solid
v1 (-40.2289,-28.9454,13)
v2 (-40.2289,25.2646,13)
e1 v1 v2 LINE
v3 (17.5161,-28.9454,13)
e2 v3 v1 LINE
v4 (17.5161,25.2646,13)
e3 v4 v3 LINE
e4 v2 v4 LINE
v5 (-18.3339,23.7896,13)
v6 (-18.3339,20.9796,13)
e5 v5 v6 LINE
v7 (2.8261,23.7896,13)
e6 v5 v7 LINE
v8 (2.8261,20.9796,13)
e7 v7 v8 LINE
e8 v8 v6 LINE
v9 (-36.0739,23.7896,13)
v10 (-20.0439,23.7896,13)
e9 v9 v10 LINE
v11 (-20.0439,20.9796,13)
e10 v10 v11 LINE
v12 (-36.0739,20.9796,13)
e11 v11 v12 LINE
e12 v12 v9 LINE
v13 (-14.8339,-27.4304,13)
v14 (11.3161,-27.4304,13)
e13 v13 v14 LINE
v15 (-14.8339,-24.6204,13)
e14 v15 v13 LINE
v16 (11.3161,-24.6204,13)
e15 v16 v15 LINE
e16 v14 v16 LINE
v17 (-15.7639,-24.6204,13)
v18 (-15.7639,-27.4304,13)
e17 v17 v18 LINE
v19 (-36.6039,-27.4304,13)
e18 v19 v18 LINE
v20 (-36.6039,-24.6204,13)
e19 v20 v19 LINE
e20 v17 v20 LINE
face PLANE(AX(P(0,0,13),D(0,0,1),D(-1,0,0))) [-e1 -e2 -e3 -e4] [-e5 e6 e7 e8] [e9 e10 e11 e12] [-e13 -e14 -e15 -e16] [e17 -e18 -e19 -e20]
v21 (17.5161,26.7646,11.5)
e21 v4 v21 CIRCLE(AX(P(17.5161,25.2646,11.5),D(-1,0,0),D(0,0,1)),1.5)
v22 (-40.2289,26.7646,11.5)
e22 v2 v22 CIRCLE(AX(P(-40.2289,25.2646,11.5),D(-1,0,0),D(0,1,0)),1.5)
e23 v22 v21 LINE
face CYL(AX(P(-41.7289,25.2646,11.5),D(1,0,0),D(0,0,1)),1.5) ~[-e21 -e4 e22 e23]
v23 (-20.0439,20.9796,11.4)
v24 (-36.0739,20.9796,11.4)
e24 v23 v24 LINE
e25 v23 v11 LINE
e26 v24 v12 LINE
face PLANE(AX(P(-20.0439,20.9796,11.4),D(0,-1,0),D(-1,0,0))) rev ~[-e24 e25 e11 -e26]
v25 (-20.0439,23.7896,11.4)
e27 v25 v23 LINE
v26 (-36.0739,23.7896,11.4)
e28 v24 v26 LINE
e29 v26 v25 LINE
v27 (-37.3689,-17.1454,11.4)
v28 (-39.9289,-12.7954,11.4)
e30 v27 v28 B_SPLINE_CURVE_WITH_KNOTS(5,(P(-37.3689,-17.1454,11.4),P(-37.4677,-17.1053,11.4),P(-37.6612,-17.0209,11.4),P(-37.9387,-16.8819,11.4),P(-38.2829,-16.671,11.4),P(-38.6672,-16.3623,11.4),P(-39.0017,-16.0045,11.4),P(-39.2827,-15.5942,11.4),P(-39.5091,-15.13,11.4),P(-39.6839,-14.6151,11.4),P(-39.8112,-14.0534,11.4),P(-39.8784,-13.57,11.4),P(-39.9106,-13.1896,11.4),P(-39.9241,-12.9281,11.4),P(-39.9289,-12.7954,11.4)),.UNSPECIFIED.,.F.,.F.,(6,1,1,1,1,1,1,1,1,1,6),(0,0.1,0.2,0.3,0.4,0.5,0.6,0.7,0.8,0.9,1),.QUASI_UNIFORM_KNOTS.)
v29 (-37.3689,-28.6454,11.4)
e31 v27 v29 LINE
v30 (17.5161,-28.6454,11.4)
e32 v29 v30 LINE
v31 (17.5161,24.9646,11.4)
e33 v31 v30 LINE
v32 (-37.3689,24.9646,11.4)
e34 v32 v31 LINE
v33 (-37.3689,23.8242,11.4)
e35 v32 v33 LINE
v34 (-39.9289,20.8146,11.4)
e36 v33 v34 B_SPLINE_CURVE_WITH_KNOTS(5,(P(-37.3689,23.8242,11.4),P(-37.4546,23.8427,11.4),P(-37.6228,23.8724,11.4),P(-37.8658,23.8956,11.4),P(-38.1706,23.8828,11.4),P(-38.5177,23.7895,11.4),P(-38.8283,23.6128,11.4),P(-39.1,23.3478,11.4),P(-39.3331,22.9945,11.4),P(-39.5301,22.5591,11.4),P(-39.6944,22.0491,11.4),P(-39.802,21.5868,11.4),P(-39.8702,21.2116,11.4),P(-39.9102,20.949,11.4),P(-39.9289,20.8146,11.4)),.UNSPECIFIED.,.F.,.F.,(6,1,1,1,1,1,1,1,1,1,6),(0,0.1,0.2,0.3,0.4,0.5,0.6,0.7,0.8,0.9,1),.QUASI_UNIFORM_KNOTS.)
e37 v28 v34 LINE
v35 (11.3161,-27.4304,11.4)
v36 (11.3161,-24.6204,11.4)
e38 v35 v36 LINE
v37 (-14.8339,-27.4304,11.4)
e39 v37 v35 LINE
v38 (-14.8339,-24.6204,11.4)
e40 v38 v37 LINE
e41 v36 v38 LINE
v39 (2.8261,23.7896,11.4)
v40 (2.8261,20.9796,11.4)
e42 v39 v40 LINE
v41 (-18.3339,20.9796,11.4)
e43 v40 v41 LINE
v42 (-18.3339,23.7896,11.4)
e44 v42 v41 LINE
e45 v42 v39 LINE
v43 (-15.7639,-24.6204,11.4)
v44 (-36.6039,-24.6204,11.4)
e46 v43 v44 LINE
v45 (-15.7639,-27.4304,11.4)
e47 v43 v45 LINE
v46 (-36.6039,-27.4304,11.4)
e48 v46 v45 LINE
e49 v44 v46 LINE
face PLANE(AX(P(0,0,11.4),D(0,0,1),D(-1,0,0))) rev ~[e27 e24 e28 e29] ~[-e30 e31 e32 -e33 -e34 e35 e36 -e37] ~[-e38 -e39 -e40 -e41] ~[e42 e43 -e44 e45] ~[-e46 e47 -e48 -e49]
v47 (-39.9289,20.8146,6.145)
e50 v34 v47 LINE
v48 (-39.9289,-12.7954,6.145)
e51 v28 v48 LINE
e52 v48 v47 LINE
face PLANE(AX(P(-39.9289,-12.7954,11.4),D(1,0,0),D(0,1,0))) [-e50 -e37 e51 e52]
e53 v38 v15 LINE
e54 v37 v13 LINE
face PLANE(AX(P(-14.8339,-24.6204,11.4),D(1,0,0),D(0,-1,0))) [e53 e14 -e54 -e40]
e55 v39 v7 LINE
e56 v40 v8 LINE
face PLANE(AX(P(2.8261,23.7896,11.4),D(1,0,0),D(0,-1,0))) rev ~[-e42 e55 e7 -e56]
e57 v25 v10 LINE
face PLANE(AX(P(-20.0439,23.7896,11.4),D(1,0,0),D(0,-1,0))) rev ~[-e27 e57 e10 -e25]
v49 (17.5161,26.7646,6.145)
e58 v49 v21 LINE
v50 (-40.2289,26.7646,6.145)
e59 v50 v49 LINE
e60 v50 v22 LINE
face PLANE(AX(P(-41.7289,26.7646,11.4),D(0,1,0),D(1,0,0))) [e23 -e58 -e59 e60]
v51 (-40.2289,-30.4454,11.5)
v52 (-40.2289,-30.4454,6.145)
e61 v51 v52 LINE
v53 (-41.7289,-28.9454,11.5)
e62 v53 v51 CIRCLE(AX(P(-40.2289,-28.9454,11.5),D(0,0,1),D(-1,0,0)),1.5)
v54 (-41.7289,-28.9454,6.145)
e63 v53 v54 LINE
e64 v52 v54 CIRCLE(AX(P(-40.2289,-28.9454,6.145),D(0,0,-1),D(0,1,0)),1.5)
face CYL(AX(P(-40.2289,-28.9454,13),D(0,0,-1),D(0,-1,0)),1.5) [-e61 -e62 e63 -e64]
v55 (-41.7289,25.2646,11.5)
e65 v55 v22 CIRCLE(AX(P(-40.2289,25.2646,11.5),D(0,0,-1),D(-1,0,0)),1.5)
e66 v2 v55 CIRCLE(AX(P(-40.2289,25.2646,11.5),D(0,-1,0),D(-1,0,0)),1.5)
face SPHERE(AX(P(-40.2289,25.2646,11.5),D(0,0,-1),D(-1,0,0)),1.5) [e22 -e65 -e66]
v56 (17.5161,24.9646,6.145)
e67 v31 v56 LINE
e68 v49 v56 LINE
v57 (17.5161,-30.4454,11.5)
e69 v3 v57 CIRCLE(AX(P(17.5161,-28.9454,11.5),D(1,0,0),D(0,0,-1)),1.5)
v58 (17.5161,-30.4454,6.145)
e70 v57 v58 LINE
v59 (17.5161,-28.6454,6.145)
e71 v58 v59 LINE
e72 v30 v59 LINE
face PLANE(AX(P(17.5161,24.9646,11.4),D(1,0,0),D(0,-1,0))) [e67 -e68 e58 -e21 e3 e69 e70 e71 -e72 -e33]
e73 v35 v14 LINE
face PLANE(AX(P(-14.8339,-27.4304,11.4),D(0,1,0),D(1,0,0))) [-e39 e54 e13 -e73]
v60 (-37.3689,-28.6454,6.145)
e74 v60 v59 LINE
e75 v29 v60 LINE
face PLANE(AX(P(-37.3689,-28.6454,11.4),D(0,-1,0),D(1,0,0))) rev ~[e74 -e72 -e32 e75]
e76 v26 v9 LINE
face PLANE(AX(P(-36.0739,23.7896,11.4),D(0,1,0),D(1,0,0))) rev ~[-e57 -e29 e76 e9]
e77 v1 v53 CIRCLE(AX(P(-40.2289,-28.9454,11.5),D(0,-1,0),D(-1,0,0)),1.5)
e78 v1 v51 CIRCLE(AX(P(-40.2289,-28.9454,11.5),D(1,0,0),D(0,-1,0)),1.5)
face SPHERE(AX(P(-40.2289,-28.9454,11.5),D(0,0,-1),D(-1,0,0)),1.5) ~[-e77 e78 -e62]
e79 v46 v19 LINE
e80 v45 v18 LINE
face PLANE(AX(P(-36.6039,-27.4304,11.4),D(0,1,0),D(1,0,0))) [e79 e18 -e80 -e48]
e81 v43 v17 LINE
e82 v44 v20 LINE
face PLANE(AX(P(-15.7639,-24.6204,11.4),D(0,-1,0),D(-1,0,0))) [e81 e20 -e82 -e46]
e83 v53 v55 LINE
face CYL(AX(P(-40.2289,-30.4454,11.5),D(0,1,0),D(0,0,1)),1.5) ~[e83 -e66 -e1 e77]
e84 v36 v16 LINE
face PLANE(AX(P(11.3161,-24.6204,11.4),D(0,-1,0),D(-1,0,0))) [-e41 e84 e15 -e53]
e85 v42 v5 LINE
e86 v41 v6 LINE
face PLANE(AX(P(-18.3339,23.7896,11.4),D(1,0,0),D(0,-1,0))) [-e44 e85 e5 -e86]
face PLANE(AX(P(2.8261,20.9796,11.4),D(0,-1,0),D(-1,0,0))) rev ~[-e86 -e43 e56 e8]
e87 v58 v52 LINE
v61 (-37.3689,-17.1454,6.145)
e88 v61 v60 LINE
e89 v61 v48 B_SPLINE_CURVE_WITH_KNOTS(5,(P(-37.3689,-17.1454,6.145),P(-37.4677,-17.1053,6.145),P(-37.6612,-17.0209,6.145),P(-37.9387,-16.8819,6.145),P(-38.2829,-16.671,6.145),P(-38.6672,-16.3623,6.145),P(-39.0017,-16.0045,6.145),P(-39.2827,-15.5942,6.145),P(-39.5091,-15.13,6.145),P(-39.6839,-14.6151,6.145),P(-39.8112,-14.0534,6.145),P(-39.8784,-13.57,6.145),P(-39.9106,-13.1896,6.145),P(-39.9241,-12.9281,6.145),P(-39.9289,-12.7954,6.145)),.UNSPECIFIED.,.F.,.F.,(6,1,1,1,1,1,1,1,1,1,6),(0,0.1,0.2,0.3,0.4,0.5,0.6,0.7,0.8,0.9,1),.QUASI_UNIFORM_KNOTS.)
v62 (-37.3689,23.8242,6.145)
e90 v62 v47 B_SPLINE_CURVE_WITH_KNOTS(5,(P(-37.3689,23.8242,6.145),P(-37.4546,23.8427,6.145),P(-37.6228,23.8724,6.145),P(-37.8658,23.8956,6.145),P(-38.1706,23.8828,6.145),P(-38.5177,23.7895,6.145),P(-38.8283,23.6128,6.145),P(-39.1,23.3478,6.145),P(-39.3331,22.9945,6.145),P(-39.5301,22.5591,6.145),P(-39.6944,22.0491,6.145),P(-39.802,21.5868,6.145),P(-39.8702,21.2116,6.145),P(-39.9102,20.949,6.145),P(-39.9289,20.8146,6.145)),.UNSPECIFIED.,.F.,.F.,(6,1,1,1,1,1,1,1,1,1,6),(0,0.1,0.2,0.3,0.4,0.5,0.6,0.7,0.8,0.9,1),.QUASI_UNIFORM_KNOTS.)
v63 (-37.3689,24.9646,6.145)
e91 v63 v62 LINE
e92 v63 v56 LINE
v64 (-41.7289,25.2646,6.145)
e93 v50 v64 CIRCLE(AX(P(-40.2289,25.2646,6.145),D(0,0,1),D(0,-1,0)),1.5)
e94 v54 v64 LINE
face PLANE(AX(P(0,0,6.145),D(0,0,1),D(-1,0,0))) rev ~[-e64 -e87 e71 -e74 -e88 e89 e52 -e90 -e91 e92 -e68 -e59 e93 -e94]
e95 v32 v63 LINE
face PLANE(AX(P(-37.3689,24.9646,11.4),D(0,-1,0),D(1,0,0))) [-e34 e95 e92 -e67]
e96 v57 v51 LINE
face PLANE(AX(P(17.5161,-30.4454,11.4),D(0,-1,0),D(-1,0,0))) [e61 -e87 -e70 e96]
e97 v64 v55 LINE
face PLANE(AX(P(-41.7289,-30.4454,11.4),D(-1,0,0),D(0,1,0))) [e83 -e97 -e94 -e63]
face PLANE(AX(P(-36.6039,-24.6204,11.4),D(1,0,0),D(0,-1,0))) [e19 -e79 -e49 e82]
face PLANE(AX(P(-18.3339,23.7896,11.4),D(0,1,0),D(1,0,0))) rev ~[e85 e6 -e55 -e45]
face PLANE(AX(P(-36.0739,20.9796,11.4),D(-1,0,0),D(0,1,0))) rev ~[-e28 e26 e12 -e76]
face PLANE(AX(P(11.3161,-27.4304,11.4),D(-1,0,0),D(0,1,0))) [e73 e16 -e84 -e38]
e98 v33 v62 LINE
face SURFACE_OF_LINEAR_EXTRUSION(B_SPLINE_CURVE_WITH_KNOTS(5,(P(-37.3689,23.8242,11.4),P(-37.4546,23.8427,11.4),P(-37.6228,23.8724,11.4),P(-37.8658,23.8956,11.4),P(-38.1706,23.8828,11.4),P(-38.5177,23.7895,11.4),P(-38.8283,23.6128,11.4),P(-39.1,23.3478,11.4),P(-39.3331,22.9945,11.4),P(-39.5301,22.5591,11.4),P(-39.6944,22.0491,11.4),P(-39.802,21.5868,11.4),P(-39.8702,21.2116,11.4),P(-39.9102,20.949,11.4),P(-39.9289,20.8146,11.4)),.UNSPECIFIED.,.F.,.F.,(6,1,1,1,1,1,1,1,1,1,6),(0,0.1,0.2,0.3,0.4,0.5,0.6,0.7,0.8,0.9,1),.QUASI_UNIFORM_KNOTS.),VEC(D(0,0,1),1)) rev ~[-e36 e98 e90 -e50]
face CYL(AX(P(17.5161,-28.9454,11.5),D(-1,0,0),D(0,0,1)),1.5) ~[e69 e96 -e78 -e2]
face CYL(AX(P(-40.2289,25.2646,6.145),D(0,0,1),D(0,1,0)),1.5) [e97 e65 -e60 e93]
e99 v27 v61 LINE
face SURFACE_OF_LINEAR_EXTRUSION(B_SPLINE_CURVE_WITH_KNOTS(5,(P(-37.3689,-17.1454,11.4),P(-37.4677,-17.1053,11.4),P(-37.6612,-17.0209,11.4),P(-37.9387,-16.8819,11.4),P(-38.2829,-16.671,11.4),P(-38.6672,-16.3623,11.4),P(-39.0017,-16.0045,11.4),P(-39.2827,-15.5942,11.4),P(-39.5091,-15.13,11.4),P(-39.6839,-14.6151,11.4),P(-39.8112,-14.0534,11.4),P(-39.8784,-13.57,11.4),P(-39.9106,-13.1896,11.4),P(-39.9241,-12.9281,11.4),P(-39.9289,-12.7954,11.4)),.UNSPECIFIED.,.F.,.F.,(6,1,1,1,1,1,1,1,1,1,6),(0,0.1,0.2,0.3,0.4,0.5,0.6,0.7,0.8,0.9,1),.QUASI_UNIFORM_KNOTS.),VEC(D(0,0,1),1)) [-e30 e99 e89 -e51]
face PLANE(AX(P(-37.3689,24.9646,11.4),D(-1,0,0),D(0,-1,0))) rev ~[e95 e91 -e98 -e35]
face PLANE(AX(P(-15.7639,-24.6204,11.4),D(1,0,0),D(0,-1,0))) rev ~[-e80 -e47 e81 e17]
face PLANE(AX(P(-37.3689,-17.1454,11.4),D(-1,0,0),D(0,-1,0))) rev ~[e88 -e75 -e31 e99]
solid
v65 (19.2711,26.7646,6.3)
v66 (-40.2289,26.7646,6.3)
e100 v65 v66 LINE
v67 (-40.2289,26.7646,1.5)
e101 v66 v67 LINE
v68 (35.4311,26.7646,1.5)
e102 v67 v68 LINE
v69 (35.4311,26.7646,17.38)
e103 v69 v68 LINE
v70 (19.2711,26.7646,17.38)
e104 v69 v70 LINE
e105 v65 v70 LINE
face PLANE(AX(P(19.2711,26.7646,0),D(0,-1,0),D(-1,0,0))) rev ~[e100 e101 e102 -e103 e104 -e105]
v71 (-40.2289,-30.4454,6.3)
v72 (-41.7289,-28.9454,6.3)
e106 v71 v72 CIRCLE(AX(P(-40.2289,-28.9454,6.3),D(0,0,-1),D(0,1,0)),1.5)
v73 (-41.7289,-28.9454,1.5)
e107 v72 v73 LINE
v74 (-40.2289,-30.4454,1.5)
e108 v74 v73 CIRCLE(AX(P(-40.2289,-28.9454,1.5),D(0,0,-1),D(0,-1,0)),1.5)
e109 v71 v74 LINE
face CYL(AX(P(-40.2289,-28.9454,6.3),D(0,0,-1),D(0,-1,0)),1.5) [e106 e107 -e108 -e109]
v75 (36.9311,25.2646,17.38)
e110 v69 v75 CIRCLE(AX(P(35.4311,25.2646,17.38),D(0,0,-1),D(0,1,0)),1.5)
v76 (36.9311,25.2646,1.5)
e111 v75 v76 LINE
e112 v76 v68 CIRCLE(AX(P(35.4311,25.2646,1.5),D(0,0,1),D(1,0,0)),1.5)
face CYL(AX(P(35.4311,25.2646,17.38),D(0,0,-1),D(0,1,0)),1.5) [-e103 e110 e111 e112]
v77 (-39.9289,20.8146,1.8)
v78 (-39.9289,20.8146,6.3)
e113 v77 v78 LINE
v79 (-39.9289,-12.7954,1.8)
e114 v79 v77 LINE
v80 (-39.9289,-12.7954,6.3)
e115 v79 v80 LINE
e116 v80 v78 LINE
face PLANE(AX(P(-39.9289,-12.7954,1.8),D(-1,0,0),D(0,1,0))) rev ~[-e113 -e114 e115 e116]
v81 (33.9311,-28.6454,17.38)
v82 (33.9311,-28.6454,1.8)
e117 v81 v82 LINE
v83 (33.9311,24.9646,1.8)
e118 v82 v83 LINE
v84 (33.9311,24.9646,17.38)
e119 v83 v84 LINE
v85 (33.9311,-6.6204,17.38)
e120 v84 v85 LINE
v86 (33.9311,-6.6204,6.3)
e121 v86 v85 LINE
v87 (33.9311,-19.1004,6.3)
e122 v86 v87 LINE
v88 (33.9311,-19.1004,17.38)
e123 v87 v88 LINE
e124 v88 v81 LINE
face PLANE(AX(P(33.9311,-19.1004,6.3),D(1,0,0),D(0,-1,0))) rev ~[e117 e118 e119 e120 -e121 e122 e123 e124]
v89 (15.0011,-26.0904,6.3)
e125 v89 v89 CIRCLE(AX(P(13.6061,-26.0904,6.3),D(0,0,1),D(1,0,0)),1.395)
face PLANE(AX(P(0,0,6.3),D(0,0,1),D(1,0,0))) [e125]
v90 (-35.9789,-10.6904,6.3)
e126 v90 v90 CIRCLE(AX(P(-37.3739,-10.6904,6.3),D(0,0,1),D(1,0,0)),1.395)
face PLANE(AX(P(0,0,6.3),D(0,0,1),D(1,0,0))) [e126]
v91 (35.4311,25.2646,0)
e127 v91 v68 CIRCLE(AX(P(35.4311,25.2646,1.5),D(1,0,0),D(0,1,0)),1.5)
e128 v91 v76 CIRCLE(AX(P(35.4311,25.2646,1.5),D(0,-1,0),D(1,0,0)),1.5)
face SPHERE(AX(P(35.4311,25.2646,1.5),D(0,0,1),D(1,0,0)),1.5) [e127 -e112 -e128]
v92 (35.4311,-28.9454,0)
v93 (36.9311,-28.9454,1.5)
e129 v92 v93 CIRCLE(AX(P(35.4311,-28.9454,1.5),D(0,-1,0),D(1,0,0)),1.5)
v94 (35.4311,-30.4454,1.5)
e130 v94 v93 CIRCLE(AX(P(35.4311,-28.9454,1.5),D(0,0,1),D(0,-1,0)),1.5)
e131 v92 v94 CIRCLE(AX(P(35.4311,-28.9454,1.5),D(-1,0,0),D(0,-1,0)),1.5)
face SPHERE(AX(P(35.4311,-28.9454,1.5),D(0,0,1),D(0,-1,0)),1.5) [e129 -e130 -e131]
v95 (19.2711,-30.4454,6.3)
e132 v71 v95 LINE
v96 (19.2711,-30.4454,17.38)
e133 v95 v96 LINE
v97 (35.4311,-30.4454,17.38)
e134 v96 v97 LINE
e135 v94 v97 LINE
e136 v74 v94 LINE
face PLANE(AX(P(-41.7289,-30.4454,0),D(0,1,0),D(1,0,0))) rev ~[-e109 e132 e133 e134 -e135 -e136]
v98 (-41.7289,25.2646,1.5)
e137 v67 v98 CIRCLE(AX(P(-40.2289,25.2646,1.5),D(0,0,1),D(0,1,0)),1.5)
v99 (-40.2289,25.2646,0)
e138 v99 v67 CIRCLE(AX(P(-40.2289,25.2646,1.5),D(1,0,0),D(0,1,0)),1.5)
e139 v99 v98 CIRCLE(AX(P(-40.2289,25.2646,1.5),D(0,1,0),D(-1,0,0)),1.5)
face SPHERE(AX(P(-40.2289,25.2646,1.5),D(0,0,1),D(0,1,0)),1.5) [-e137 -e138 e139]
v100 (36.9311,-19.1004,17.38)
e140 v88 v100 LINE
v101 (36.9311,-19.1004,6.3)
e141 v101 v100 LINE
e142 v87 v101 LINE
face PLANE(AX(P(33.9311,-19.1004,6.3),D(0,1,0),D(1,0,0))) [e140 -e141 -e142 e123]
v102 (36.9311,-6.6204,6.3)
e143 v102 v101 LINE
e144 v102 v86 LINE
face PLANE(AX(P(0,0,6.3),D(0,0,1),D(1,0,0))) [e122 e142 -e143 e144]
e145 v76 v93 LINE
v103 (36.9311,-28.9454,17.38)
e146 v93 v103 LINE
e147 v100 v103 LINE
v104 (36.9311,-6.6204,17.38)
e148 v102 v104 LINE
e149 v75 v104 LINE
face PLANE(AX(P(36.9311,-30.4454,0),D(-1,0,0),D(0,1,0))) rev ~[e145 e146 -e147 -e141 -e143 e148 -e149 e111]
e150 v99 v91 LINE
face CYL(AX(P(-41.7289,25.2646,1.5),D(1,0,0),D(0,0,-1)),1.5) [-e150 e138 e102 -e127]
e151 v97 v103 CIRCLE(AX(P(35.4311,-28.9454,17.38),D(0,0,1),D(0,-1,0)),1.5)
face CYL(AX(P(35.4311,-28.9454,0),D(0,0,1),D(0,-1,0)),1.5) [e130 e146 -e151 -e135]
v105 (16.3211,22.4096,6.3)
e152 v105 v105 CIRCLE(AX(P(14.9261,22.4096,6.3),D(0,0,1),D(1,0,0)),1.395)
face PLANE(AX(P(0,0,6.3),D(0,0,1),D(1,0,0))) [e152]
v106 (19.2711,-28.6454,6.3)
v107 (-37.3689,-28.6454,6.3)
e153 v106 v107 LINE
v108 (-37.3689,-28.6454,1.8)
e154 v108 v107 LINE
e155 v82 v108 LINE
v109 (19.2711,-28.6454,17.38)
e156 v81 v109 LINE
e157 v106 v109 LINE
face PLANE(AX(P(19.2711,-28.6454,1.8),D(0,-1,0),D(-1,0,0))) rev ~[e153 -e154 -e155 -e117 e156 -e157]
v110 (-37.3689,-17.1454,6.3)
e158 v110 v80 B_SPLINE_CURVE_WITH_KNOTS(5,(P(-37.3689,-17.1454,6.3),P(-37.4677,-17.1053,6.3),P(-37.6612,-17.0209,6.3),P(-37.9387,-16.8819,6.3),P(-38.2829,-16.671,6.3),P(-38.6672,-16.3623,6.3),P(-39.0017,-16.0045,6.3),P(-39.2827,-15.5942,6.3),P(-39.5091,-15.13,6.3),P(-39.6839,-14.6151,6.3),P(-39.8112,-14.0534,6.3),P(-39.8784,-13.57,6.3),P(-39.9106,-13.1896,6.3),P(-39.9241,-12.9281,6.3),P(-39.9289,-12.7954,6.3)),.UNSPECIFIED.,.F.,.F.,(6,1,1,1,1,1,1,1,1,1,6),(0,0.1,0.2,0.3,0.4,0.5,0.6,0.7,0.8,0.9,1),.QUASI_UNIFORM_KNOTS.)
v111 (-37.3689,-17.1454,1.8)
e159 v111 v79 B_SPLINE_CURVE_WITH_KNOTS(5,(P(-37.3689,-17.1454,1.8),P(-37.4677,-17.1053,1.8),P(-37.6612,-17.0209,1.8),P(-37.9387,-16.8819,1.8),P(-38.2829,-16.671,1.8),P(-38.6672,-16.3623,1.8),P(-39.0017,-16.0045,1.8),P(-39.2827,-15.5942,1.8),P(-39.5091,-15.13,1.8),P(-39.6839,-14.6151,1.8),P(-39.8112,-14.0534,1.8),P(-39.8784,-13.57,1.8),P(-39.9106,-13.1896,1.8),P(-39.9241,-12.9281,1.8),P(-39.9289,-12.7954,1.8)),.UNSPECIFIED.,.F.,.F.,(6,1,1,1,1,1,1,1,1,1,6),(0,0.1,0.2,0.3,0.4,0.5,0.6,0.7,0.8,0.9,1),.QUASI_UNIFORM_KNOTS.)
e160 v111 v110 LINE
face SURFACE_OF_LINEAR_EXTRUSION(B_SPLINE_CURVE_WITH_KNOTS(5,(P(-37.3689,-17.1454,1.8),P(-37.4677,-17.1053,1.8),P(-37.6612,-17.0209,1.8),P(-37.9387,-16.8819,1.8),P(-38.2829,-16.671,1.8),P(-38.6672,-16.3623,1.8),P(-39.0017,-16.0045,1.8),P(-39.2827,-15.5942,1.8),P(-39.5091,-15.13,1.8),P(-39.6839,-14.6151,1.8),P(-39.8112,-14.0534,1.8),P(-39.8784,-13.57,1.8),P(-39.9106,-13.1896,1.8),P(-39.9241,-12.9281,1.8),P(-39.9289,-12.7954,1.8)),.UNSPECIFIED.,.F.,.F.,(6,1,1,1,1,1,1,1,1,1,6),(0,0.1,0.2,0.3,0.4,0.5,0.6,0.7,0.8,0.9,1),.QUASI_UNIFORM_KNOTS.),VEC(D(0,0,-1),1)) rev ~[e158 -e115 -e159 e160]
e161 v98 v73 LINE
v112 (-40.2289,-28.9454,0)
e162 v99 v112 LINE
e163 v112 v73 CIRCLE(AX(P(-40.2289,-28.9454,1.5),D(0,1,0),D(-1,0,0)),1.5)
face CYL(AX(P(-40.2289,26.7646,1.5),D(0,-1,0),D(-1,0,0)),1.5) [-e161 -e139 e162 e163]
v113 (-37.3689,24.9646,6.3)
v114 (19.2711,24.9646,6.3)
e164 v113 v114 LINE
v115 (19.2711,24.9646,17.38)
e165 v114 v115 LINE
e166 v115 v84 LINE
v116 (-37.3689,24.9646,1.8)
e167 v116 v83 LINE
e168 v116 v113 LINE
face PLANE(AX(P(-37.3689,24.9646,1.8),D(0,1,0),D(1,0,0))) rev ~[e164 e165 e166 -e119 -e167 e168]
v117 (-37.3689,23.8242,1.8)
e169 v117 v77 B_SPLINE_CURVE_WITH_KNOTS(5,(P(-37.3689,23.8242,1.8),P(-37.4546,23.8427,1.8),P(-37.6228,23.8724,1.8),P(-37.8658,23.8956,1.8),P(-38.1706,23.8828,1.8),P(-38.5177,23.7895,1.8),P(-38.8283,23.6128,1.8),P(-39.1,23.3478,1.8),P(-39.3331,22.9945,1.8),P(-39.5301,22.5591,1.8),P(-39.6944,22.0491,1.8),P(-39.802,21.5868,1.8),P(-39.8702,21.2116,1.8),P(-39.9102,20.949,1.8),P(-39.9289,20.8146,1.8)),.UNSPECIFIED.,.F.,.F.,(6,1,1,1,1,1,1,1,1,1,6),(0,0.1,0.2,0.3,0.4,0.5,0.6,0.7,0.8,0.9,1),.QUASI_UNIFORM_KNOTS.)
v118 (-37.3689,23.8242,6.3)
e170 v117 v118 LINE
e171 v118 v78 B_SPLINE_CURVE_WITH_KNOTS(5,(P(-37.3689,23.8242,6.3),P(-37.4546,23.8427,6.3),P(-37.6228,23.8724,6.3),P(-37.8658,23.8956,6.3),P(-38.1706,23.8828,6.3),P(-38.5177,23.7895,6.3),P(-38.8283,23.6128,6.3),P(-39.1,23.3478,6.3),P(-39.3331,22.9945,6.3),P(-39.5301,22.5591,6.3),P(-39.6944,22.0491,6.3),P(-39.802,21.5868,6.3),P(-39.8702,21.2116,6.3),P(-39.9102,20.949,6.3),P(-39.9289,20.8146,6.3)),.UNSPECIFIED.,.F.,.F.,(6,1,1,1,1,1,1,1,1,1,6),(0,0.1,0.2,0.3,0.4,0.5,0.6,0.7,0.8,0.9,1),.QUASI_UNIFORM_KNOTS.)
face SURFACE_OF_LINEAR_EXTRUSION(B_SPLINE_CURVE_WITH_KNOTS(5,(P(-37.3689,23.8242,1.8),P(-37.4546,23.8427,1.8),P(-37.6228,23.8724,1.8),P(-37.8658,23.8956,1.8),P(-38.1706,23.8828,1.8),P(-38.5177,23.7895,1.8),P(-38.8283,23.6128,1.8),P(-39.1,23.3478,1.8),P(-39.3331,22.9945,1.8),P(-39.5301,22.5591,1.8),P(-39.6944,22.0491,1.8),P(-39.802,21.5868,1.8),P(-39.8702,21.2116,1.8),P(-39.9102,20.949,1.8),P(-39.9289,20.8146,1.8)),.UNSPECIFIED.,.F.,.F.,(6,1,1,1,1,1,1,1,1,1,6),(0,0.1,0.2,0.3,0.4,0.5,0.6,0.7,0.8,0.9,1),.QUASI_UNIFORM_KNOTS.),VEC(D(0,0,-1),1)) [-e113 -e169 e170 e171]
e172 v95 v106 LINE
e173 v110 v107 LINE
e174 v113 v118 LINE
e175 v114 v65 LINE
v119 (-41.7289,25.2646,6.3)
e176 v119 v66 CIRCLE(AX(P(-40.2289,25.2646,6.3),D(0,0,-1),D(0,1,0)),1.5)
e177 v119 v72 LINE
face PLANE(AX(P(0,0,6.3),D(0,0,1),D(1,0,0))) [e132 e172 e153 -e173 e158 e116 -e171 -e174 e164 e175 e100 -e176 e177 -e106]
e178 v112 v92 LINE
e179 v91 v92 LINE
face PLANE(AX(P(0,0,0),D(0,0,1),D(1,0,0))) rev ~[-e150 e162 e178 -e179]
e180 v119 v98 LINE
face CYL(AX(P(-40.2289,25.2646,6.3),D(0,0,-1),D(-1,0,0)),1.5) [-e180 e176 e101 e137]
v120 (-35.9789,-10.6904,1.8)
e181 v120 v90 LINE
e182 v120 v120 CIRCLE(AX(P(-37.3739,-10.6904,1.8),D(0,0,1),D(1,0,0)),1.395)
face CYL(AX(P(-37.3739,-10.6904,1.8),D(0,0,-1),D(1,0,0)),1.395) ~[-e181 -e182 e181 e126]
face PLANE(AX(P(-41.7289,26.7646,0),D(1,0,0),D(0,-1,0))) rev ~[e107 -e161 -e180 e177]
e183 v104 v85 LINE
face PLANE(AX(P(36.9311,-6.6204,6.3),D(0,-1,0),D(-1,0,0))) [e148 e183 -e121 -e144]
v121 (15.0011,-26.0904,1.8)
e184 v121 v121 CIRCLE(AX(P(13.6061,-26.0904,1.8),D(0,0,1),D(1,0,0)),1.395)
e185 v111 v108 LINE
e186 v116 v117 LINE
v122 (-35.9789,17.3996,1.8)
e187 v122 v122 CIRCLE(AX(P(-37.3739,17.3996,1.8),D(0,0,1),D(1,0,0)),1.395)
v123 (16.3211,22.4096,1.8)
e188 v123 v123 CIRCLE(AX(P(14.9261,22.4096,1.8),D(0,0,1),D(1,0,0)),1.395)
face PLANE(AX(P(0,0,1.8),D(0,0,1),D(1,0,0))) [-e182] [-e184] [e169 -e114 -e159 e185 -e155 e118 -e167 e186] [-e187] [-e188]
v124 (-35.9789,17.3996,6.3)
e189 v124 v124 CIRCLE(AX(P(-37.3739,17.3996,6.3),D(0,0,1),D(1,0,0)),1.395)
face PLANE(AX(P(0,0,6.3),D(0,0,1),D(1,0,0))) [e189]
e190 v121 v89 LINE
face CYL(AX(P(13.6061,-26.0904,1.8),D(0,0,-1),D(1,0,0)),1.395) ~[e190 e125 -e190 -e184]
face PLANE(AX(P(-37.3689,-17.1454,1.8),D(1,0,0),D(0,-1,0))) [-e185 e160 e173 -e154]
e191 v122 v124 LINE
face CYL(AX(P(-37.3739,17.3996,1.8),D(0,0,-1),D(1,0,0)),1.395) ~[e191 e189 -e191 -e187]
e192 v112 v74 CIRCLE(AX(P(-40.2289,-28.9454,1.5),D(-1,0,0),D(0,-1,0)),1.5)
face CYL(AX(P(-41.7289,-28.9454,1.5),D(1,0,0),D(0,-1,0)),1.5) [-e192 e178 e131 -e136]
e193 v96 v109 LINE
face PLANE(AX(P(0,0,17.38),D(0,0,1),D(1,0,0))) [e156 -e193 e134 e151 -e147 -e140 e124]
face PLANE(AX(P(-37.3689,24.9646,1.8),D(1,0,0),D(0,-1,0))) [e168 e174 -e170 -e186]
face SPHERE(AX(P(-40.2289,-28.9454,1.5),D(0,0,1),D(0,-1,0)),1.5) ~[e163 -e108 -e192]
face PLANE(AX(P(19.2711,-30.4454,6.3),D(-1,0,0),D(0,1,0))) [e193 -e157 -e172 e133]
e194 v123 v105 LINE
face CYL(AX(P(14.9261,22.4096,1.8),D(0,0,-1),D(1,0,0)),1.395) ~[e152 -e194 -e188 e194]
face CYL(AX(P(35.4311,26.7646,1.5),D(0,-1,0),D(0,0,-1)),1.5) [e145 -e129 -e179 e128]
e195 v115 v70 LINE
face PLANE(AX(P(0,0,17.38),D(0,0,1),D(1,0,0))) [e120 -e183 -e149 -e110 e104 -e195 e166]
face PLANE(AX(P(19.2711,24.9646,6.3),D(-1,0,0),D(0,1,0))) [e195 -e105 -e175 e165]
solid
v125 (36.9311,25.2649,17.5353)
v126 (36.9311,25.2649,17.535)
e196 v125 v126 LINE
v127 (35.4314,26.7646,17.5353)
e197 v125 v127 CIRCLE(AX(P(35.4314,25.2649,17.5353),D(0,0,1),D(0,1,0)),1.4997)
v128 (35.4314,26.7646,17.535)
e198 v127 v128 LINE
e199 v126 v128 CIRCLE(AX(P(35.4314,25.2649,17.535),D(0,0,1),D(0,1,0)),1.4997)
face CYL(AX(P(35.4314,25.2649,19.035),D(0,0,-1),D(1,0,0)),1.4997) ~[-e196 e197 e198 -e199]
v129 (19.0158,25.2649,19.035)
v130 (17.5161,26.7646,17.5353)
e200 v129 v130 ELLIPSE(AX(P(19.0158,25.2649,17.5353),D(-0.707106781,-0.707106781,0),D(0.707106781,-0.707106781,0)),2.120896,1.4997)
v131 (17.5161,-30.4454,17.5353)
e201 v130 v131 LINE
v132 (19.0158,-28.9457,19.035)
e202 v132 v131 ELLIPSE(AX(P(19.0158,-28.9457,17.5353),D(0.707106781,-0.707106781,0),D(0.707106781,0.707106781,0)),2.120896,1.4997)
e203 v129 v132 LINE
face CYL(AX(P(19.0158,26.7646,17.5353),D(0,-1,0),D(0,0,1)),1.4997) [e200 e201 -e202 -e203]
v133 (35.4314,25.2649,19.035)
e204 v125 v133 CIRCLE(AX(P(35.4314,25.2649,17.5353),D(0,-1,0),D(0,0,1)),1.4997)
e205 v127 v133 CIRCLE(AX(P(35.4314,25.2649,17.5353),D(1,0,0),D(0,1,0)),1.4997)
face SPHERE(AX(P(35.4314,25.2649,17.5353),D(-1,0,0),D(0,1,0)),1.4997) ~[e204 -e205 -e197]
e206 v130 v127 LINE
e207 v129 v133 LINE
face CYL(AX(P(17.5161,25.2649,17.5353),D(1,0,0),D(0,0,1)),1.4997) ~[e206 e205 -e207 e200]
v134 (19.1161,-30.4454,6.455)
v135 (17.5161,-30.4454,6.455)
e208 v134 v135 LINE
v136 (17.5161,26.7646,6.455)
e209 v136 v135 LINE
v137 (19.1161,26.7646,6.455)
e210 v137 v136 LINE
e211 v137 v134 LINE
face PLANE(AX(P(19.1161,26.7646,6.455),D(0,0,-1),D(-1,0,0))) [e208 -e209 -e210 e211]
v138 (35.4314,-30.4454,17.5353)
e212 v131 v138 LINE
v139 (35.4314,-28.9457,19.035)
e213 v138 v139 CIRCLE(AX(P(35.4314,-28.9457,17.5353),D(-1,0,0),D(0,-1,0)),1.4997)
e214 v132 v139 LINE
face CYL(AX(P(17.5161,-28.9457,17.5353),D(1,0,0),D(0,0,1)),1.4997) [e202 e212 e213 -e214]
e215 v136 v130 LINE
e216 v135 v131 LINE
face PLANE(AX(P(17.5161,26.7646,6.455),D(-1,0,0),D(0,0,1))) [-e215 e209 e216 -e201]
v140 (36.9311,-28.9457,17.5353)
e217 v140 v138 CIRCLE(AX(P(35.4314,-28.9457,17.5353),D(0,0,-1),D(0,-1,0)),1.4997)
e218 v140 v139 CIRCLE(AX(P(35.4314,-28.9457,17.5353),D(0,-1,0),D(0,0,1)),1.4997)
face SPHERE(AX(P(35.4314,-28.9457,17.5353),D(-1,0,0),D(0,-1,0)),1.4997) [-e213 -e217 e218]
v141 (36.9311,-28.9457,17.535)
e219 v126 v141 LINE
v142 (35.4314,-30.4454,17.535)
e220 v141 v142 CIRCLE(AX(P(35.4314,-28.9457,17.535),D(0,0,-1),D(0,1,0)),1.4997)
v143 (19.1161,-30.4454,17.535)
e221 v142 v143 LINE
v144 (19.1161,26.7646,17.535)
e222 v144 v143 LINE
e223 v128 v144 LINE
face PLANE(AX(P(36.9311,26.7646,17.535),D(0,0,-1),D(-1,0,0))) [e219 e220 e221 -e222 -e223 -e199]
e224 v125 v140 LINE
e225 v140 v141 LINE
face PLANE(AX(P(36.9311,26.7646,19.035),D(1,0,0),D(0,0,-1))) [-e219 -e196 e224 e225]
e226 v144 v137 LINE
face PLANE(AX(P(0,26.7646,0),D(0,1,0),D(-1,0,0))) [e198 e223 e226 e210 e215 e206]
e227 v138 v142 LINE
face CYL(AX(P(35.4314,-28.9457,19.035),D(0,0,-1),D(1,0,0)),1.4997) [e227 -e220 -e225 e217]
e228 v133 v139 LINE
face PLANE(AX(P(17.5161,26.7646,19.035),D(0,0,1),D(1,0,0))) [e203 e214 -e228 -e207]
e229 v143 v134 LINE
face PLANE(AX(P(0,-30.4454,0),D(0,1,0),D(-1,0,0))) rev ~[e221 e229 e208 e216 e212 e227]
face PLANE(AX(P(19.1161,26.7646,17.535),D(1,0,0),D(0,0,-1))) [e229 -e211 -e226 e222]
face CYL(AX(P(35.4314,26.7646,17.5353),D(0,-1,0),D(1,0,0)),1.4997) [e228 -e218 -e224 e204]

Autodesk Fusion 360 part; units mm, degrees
sketch "Footprint" plane through (0, 0, 0) normal (0, 0, 1) x (1, 0, 0) in component "Box"
  line L0 (-37.3689, 24.9646) -> (33.9311, 24.9646)
  line L1 (33.9311, 24.9646) -> (33.9311, -28.6454)
  line L2 (33.9311, -28.6454) -> (-37.3689, -28.6454)
  line L3 (-39.9289, -28.6454) -> (-39.9289, 24.9646) construction
  line L4 (-37.3689, 24.9646) -> (-37.3689, 23.8242)
  line L5 (-37.3689, -17.1454) -> (-37.3689, -28.6454)
  line L6 (-39.9289, -12.7954) -> (-39.9289, 20.8146)
  line L7 (-37.3689, -28.6454) -> (-39.9289, -28.6454) construction
  line L8 (-37.3689, 24.9646) -> (-39.9289, 24.9646) construction
  spline S0 degree 5 poles (-37.3689, -17.1454) (-37.4677, -17.1053) (-37.6612, -17.0209) (-37.9387, -16.8819) (-38.2829, -16.671) (-38.6672, -16.3623) (-39.0017, -16.0045) (-39.2827, -15.5942) (-39.5091, -15.13) (-39.6839, -14.6151) (-39.8112, -14.0534) (-39.8784, -13.57) (-39.9106, -13.1896) (-39.9241, -12.9281) (-39.9289, -12.7954) knots 0 0 0 0 0 0 0.1 0.2 0.3 0.4 0.5 0.6 0.7 0.8 0.9 1 1 1 1 1 1
  spline S1 degree 5 poles (-37.3689, 23.8242) (-37.4546, 23.8427) (-37.6228, 23.8724) (-37.8658, 23.8956) (-38.1706, 23.8828) (-38.5177, 23.7895) (-38.8283, 23.6128) (-39.1, 23.3478) (-39.3331, 22.9945) (-39.5301, 22.5591) (-39.6944, 22.0491) (-39.802, 21.5868) (-39.8702, 21.2116) (-39.9102, 20.949) (-39.9289, 20.8146) knots 0 0 0 0 0 0 0.1 0.2 0.3 0.4 0.5 0.6 0.7 0.8 0.9 1 1 1 1 1 1
  circle A0 centre (-37.3739, -10.6904) radius 1.395
  circle A1 centre (-37.3739, 17.3996) radius 1.395
  circle A2 centre (14.9261, 22.4096) radius 1.395
  circle A3 centre (13.6061, -26.0904) radius 1.395
  line L9 (33.9311, 24.9646) -> (36.9311, 24.9646)
  line L10 (36.9311, 24.9646) -> (36.9311, -28.6454)
  line L11 (36.9311, -28.6454) -> (33.9311, -28.6454)
  line L12 (36.9311, 24.9646) -> (36.9311, 26.7646)
  line L13 (36.9311, 26.7646) -> (-41.7289, 26.7646)
  line L14 (-41.7289, 26.7646) -> (-41.7289, -30.4454)
  line L15 (-41.7289, -30.4454) -> (36.9311, -30.4454)
  line L16 (36.9311, -30.4454) -> (36.9311, -28.6454)
  line L17 (33.9311, -19.1004) -> (36.9311, -19.1004)
  line L18 (36.9311, -6.6204) -> (33.9311, -6.6204)
  line L19 (19.2711, -30.4454) -> (19.2711, -28.6454)
  line L20 (19.2711, 24.9646) -> (19.2711, 26.7646)
  point P0 (-39.2184, -15.6652)
  point P1 (-38.9763, 23.4524)
  dimension "d4" = 53.61
  dimension "d6" = 73.86
  dimension "d8" = 2.56
  dimension "d10" = 33.61
  dimension "d12" = 15.85
  dimension "d14" = 2.79
  dimension "d15" = 17.955
  dimension "d16" = 2.555
  dimension "d17" = 7.565
  dimension "d18" = 2.555
  dimension "d19" = 2.555
  dimension "d20" = 20.325
  dimension "d21" = 19.005
  dimension "d22" = 3
  dimension "d23" = 1.8
  dimension "d24" = 1.8
  dimension "d25" = 1.8
  dimension "d31" = 9.545
  dimension "d32" = 12.48
  dimension "d38" = 14.66
  dimension "d47" = 11.5
extrude "Extrude1" add sketch "Footprint" along normal blind 1.8 contours L0 L2 L4 L5 L6 S0 S1 L13 L14 L15 L19 L20 | L0 L1 L2 L4 L5 L6 S0 S1 | L0 L9 L12 L13 L20 | L1 L9 L10 L18 | L1 L10 L17 L18 | L1 L10 L11 L17 | L2 L11 L15 L16 L19 | A0 | A1 | A2 | A3 makes body 1 in component "Box"
extrude "Extrude2" add sketch "Footprint" along normal blind 4.5 from surface at 1.8 contours L0 L2 L4 L5 L6 S0 S1 L13 L14 L15 L19 L20 | L0 L9 L12 L13 L20 | L1 L9 L10 L18 | L1 L10 L17 L18 | L1 L10 L11 L17 | L2 L11 L15 L16 L19 | A0 | A1 | A2 | A3 bodies 1 in component "Box"
extrude "Extrude3" add sketch "Footprint" along normal blind 11.08 from surface at 6.3 contours L0 L9 L12 L13 L20 | L1 L9 L10 L18 | L1 L10 L11 L17 | L2 L11 L15 L16 L19 bodies 1 in component "Box"
sketch "Side Profile" plane through (0, 26.7646, 0) normal (0, 1, 0) x (-1, 0, 0) in component "FrontCover"
  line L0 (-19.2711, 6.3) -> (-19.2711, 17.38) construction
  line L1 (-36.9311, 17.38) -> (-19.2711, 17.38) construction
  line L2 (-36.9311, 17.535) -> (-19.1161, 17.535)
  line L3 (-19.1161, 17.535) -> (-19.1161, 6.455)
  line L4 (-19.1161, 6.455) -> (-17.5161, 6.455)
  line L5 (-17.5161, 6.455) -> (-17.5161, 19.035)
  line L6 (-17.5161, 19.035) -> (-36.9311, 19.035)
  line L7 (-36.9311, 19.035) -> (-36.9311, 17.535)
  dimension "d39" = 0.155
  dimension "d40" = 0.155
  dimension "d44" = 0.155
  dimension "d45" = 1.5
  dimension "d46" = 1.6
extrude "Extrude1'" add sketch "Side Profile" against normal up to surface (57.21 mm away) separate body makes body 2 in component "FrontCover"
ref_plane "WorkPlane1" through (-11.2289, -1.8404, 11.4) normal (0, 0, 1) x (1, 0, 0) in component "Lid"
sketch "Footprint (2)" plane through (0, 0, 11.4) normal (0, 0, 1) x (-1, 0, 0) in component "Lid"
  line L0 (-33.9311, 28.6454) -> (37.3689, 28.6454) construction
  line L1 (37.3689, 17.1454) -> (37.3689, 28.6454)
  spline S0 degree 5 poles (37.3689, 17.1454) (37.4677, 17.1053) (37.6612, 17.0209) (37.9387, 16.8819) (38.2829, 16.671) (38.6672, 16.3623) (39.0017, 16.0045) (39.2827, 15.5942) (39.5091, 15.13) (39.6839, 14.6151) (39.8112, 14.0534) (39.8784, 13.57) (39.9106, 13.1896) (39.9241, 12.9281) (39.9289, 12.7954) knots 0 0 0 0 0 0 0.1 0.2 0.3 0.4 0.5 0.6 0.7 0.8 0.9 1 1 1 1 1 1
  line L2 (39.9289, 12.7954) -> (39.9289, -20.8146)
  spline S1 degree 5 poles (37.3689, -23.8242) (37.4546, -23.8427) (37.6228, -23.8724) (37.8658, -23.8956) (38.1706, -23.8828) (38.5177, -23.7895) (38.8283, -23.6128) (39.1, -23.3478) (39.3331, -22.9945) (39.5301, -22.5591) (39.6944, -22.0491) (39.802, -21.5868) (39.8702, -21.2116) (39.9102, -20.949) (39.9289, -20.8146) knots 0 0 0 0 0 0 0.1 0.2 0.3 0.4 0.5 0.6 0.7 0.8 0.9 1 1 1 1 1 1
  line L3 (37.3689, -24.9646) -> (37.3689, -23.8242)
  line L4 (37.3689, -24.9646) -> (-33.9311, -24.9646) construction
  line L5 (41.7289, -26.7646) -> (-17.5161, -26.7646)
  line L6 (-17.5161, -26.7646) -> (-17.5161, -24.9646)
  line L7 (37.3689, -24.9646) -> (-17.5161, -24.9646)
  line L8 (37.3689, 28.6454) -> (-17.5161, 28.6454)
  line L9 (-17.5161, 30.4454) -> (-17.5161, 28.6454)
  line L10 (-17.5161, 30.4454) -> (41.7289, 30.4454)
  line L11 (41.7289, 30.4454) -> (41.7289, -26.7646)
  line L12 (-17.5161, -24.9646) -> (-17.5161, 28.6454)
  line L13 (36.6039, 27.4304) -> (-11.3161, 27.4304)
  line L14 (-11.3161, 27.4304) -> (-11.3161, 24.6204)
  line L15 (-11.3161, 24.6204) -> (36.6039, 24.6204)
  line L16 (36.6039, 24.6204) -> (36.6039, 27.4304)
  line L17 (36.0739, -23.7896) -> (-2.8261, -23.7896)
  line L18 (-2.8261, -23.7896) -> (-2.8261, -20.9796)
  line L19 (-2.8261, -20.9796) -> (36.0739, -20.9796)
  line L20 (36.0739, -20.9796) -> (36.0739, -23.7896)
  line L21 (15.7639, 24.6204) -> (15.7639, 27.4304)
  line L22 (14.8339, 24.6204) -> (14.8339, 27.4304)
  line L23 (20.0439, -23.7896) -> (20.0439, -20.9796)
  line L24 (18.3339, -23.7896) -> (18.3339, -20.9796)
  point P0 (41.7289, -26.7646)
  point P1 (-19.2711, -26.7646)
  point P2 (-19.2711, 30.4454)
  point P3 (41.7289, 30.4454)
  dimension "d48" = 1.755
  dimension "d58" = 0.765
  dimension "d59" = 2.81
  dimension "d60" = 20.84
  dimension "d61" = 0.93
  dimension "d62" = 26.15
  dimension "d63" = 1.215
  dimension "d64" = 1.295
  dimension "d65" = 16.03
  dimension "d66" = 1.71
  dimension "d67" = 21.16
  dimension "d68" = 2.81
  dimension "d69" = 1.175
extrude "Extrude1''" add sketch "Footprint (2)" along normal blind 1.6 separate body contours L1 S0 L2 S1 L3 L7 L8 L12 | L1 S0 L2 S1 L3 L5 L6 L7 L8 L9 L10 L11 | L13 L15 L21 L22 | L17 L19 L23 L24 makes body 3 in component "Lid"
extrude "Extrude2'" add sketch "Footprint (2)" against normal up to surface (5.255 mm away) contours L1 S0 L2 S1 L3 L5 L6 L7 L8 L9 L10 L11 bodies 3 in component "Lid"
fillet "Fillet1" radius 1.5 4 edges at (-41.7289, 26.7646, 3.15) (36.9311, 26.7646, 8.69) (36.9311, -30.4454, 8.69) (-41.7289, -30.4454, 3.15) 1 faces at (-15.5089, 7.6946, 0) on bodies 1 in component "Box"
fillet "Fillet1'" radius 1.5 6 edges at (27.2236, 26.7646, 19.035) (36.9311, 26.7646, 18.285) (27.2236, -30.4454, 19.035) (36.9311, -30.4454, 18.285) (17.5161, -1.8404, 19.035) (36.9311, -1.8404, 19.035) on bodies 2 in component "FrontCover"
fillet "Fillet1''" radius 1.5 5 edges at (-41.7289, 26.7646, 9.5725) (-41.7289, -30.4454, 9.5725) (-41.7289, -1.8404, 13) (-12.1064, -30.4454, 13) (-12.1064, 26.7646, 13) on bodies 3 in component "Lid"
component "Box" placed x (1, 0, 0) y (0, 1, 0) z (0, 0, 1) at (0, 0, 0)
component "FrontCover" placed x (1, 0, 0) y (0, 1, 0) z (0, 0, 1) at (0, 0, 0)
component "Lid" placed x (1, 0, 0) y (0, 1, 0) z (0, 0, 1) at (0, 0, 0)
equation "Tolerance = 0.17 mm" comment "Tolerance to use when PLA/PETG parts mate with existing parts (like a a screw), or when you a very small amount of clearance at mating site."
equation "Tolerance_Tight = 0.155 mm" comment "Tolerance to use when you want the parts to make contact at mating site."
equation "Tolerance_PressFitLight = 0.12 mm" comment "Tolerance to use when you want the parts to press fit together, like Legos."
equation "d4 = Arduino_Width + 2 * Tolerance_Tight"
equation "Arduino_Width = 53.3 mm"
equation "d6 = Arduino_Length + 2 * Tolerance_Tight"
equation "Arduino_Length = 73.55 mm"
equation "d10 = Arduino_BackBumpLength + 2 * Tolerance_Tight"
equation "Arduino_BackBumpLength = 33.3 mm"
equation "Arduino_MountingHoleDiameter = 3.1 mm"
equation "d14 = Arduino_MountingHoleDiameter - 2 * Tolerance_Tight"
equation "d15 = 2 * Tolerance_Tight + d14 / 2 + 16.25 mm"
equation "d16 = 0.85 mm + d14 / 2 + 2 * Tolerance_Tight"
equation "d17 = 2 * Tolerance_Tight + 5.86 mm + d14 / 2"
equation "d18 = d16"
equation "d19 = d16"
equation "d20 = 2 * Tolerance_Tight + 18.62 mm + d14 / 2"
equation "d21 = 2 * Tolerance_Tight + 17.3 mm + d14 / 2"
equation "d24 = d23"
equation "d25 = d23"
equation "d26 = d23"
equation "d31 = 9.7 mm - Tolerance_Tight"
equation "d32 = Arduino_UsbPortWidth + 2 * Tolerance_Tight"
equation "Arduino_UsbPortHeight = 10.77 mm"
equation "Arduino_UsbPortWidth = 12.17 mm"
equation "d36 = Arduino_UsbPortHeight + 2 * Tolerance_Tight"
equation "d39 = Tolerance_Tight"
equation "d40 = d39"
equation "d44 = d39"
equation "d48 = d46 + Tolerance_Tight"
equation "Arduino_LidHeight = 5.1 mm"
equation "d50 = Arduino_LidHeight"
equation "d53 = -Tolerance_Tight"
equation "d55 = 1.5 mm"
equation "d56 = d55"
equation "d57 = d55"
equation "d58 = 0.92 mm - Tolerance_Tight"
equation "d59 = 2.5 mm + 2 * Tolerance_Tight"
equation "d60 = 20.53 mm + 2 * Tolerance_Tight"
equation "d61 = 1.24 mm - 2 * Tolerance_Tight"
equation "d62 = 25.84 mm + 2 * Tolerance_Tight"
equation "d63 = 1.37 mm - Tolerance_Tight"
equation "d64 = 1.45 mm - Tolerance_Tight"
equation "d65 = 15.72 mm + 2 * Tolerance_Tight"
equation "d66 = 2.02 mm - 2 * Tolerance_Tight"
equation "d67 = 20.85 mm + 2 * Tolerance_Tight"
equation "d68 = d59"
equation "d69 = 1.33 mm - Tolerance_Tight"
